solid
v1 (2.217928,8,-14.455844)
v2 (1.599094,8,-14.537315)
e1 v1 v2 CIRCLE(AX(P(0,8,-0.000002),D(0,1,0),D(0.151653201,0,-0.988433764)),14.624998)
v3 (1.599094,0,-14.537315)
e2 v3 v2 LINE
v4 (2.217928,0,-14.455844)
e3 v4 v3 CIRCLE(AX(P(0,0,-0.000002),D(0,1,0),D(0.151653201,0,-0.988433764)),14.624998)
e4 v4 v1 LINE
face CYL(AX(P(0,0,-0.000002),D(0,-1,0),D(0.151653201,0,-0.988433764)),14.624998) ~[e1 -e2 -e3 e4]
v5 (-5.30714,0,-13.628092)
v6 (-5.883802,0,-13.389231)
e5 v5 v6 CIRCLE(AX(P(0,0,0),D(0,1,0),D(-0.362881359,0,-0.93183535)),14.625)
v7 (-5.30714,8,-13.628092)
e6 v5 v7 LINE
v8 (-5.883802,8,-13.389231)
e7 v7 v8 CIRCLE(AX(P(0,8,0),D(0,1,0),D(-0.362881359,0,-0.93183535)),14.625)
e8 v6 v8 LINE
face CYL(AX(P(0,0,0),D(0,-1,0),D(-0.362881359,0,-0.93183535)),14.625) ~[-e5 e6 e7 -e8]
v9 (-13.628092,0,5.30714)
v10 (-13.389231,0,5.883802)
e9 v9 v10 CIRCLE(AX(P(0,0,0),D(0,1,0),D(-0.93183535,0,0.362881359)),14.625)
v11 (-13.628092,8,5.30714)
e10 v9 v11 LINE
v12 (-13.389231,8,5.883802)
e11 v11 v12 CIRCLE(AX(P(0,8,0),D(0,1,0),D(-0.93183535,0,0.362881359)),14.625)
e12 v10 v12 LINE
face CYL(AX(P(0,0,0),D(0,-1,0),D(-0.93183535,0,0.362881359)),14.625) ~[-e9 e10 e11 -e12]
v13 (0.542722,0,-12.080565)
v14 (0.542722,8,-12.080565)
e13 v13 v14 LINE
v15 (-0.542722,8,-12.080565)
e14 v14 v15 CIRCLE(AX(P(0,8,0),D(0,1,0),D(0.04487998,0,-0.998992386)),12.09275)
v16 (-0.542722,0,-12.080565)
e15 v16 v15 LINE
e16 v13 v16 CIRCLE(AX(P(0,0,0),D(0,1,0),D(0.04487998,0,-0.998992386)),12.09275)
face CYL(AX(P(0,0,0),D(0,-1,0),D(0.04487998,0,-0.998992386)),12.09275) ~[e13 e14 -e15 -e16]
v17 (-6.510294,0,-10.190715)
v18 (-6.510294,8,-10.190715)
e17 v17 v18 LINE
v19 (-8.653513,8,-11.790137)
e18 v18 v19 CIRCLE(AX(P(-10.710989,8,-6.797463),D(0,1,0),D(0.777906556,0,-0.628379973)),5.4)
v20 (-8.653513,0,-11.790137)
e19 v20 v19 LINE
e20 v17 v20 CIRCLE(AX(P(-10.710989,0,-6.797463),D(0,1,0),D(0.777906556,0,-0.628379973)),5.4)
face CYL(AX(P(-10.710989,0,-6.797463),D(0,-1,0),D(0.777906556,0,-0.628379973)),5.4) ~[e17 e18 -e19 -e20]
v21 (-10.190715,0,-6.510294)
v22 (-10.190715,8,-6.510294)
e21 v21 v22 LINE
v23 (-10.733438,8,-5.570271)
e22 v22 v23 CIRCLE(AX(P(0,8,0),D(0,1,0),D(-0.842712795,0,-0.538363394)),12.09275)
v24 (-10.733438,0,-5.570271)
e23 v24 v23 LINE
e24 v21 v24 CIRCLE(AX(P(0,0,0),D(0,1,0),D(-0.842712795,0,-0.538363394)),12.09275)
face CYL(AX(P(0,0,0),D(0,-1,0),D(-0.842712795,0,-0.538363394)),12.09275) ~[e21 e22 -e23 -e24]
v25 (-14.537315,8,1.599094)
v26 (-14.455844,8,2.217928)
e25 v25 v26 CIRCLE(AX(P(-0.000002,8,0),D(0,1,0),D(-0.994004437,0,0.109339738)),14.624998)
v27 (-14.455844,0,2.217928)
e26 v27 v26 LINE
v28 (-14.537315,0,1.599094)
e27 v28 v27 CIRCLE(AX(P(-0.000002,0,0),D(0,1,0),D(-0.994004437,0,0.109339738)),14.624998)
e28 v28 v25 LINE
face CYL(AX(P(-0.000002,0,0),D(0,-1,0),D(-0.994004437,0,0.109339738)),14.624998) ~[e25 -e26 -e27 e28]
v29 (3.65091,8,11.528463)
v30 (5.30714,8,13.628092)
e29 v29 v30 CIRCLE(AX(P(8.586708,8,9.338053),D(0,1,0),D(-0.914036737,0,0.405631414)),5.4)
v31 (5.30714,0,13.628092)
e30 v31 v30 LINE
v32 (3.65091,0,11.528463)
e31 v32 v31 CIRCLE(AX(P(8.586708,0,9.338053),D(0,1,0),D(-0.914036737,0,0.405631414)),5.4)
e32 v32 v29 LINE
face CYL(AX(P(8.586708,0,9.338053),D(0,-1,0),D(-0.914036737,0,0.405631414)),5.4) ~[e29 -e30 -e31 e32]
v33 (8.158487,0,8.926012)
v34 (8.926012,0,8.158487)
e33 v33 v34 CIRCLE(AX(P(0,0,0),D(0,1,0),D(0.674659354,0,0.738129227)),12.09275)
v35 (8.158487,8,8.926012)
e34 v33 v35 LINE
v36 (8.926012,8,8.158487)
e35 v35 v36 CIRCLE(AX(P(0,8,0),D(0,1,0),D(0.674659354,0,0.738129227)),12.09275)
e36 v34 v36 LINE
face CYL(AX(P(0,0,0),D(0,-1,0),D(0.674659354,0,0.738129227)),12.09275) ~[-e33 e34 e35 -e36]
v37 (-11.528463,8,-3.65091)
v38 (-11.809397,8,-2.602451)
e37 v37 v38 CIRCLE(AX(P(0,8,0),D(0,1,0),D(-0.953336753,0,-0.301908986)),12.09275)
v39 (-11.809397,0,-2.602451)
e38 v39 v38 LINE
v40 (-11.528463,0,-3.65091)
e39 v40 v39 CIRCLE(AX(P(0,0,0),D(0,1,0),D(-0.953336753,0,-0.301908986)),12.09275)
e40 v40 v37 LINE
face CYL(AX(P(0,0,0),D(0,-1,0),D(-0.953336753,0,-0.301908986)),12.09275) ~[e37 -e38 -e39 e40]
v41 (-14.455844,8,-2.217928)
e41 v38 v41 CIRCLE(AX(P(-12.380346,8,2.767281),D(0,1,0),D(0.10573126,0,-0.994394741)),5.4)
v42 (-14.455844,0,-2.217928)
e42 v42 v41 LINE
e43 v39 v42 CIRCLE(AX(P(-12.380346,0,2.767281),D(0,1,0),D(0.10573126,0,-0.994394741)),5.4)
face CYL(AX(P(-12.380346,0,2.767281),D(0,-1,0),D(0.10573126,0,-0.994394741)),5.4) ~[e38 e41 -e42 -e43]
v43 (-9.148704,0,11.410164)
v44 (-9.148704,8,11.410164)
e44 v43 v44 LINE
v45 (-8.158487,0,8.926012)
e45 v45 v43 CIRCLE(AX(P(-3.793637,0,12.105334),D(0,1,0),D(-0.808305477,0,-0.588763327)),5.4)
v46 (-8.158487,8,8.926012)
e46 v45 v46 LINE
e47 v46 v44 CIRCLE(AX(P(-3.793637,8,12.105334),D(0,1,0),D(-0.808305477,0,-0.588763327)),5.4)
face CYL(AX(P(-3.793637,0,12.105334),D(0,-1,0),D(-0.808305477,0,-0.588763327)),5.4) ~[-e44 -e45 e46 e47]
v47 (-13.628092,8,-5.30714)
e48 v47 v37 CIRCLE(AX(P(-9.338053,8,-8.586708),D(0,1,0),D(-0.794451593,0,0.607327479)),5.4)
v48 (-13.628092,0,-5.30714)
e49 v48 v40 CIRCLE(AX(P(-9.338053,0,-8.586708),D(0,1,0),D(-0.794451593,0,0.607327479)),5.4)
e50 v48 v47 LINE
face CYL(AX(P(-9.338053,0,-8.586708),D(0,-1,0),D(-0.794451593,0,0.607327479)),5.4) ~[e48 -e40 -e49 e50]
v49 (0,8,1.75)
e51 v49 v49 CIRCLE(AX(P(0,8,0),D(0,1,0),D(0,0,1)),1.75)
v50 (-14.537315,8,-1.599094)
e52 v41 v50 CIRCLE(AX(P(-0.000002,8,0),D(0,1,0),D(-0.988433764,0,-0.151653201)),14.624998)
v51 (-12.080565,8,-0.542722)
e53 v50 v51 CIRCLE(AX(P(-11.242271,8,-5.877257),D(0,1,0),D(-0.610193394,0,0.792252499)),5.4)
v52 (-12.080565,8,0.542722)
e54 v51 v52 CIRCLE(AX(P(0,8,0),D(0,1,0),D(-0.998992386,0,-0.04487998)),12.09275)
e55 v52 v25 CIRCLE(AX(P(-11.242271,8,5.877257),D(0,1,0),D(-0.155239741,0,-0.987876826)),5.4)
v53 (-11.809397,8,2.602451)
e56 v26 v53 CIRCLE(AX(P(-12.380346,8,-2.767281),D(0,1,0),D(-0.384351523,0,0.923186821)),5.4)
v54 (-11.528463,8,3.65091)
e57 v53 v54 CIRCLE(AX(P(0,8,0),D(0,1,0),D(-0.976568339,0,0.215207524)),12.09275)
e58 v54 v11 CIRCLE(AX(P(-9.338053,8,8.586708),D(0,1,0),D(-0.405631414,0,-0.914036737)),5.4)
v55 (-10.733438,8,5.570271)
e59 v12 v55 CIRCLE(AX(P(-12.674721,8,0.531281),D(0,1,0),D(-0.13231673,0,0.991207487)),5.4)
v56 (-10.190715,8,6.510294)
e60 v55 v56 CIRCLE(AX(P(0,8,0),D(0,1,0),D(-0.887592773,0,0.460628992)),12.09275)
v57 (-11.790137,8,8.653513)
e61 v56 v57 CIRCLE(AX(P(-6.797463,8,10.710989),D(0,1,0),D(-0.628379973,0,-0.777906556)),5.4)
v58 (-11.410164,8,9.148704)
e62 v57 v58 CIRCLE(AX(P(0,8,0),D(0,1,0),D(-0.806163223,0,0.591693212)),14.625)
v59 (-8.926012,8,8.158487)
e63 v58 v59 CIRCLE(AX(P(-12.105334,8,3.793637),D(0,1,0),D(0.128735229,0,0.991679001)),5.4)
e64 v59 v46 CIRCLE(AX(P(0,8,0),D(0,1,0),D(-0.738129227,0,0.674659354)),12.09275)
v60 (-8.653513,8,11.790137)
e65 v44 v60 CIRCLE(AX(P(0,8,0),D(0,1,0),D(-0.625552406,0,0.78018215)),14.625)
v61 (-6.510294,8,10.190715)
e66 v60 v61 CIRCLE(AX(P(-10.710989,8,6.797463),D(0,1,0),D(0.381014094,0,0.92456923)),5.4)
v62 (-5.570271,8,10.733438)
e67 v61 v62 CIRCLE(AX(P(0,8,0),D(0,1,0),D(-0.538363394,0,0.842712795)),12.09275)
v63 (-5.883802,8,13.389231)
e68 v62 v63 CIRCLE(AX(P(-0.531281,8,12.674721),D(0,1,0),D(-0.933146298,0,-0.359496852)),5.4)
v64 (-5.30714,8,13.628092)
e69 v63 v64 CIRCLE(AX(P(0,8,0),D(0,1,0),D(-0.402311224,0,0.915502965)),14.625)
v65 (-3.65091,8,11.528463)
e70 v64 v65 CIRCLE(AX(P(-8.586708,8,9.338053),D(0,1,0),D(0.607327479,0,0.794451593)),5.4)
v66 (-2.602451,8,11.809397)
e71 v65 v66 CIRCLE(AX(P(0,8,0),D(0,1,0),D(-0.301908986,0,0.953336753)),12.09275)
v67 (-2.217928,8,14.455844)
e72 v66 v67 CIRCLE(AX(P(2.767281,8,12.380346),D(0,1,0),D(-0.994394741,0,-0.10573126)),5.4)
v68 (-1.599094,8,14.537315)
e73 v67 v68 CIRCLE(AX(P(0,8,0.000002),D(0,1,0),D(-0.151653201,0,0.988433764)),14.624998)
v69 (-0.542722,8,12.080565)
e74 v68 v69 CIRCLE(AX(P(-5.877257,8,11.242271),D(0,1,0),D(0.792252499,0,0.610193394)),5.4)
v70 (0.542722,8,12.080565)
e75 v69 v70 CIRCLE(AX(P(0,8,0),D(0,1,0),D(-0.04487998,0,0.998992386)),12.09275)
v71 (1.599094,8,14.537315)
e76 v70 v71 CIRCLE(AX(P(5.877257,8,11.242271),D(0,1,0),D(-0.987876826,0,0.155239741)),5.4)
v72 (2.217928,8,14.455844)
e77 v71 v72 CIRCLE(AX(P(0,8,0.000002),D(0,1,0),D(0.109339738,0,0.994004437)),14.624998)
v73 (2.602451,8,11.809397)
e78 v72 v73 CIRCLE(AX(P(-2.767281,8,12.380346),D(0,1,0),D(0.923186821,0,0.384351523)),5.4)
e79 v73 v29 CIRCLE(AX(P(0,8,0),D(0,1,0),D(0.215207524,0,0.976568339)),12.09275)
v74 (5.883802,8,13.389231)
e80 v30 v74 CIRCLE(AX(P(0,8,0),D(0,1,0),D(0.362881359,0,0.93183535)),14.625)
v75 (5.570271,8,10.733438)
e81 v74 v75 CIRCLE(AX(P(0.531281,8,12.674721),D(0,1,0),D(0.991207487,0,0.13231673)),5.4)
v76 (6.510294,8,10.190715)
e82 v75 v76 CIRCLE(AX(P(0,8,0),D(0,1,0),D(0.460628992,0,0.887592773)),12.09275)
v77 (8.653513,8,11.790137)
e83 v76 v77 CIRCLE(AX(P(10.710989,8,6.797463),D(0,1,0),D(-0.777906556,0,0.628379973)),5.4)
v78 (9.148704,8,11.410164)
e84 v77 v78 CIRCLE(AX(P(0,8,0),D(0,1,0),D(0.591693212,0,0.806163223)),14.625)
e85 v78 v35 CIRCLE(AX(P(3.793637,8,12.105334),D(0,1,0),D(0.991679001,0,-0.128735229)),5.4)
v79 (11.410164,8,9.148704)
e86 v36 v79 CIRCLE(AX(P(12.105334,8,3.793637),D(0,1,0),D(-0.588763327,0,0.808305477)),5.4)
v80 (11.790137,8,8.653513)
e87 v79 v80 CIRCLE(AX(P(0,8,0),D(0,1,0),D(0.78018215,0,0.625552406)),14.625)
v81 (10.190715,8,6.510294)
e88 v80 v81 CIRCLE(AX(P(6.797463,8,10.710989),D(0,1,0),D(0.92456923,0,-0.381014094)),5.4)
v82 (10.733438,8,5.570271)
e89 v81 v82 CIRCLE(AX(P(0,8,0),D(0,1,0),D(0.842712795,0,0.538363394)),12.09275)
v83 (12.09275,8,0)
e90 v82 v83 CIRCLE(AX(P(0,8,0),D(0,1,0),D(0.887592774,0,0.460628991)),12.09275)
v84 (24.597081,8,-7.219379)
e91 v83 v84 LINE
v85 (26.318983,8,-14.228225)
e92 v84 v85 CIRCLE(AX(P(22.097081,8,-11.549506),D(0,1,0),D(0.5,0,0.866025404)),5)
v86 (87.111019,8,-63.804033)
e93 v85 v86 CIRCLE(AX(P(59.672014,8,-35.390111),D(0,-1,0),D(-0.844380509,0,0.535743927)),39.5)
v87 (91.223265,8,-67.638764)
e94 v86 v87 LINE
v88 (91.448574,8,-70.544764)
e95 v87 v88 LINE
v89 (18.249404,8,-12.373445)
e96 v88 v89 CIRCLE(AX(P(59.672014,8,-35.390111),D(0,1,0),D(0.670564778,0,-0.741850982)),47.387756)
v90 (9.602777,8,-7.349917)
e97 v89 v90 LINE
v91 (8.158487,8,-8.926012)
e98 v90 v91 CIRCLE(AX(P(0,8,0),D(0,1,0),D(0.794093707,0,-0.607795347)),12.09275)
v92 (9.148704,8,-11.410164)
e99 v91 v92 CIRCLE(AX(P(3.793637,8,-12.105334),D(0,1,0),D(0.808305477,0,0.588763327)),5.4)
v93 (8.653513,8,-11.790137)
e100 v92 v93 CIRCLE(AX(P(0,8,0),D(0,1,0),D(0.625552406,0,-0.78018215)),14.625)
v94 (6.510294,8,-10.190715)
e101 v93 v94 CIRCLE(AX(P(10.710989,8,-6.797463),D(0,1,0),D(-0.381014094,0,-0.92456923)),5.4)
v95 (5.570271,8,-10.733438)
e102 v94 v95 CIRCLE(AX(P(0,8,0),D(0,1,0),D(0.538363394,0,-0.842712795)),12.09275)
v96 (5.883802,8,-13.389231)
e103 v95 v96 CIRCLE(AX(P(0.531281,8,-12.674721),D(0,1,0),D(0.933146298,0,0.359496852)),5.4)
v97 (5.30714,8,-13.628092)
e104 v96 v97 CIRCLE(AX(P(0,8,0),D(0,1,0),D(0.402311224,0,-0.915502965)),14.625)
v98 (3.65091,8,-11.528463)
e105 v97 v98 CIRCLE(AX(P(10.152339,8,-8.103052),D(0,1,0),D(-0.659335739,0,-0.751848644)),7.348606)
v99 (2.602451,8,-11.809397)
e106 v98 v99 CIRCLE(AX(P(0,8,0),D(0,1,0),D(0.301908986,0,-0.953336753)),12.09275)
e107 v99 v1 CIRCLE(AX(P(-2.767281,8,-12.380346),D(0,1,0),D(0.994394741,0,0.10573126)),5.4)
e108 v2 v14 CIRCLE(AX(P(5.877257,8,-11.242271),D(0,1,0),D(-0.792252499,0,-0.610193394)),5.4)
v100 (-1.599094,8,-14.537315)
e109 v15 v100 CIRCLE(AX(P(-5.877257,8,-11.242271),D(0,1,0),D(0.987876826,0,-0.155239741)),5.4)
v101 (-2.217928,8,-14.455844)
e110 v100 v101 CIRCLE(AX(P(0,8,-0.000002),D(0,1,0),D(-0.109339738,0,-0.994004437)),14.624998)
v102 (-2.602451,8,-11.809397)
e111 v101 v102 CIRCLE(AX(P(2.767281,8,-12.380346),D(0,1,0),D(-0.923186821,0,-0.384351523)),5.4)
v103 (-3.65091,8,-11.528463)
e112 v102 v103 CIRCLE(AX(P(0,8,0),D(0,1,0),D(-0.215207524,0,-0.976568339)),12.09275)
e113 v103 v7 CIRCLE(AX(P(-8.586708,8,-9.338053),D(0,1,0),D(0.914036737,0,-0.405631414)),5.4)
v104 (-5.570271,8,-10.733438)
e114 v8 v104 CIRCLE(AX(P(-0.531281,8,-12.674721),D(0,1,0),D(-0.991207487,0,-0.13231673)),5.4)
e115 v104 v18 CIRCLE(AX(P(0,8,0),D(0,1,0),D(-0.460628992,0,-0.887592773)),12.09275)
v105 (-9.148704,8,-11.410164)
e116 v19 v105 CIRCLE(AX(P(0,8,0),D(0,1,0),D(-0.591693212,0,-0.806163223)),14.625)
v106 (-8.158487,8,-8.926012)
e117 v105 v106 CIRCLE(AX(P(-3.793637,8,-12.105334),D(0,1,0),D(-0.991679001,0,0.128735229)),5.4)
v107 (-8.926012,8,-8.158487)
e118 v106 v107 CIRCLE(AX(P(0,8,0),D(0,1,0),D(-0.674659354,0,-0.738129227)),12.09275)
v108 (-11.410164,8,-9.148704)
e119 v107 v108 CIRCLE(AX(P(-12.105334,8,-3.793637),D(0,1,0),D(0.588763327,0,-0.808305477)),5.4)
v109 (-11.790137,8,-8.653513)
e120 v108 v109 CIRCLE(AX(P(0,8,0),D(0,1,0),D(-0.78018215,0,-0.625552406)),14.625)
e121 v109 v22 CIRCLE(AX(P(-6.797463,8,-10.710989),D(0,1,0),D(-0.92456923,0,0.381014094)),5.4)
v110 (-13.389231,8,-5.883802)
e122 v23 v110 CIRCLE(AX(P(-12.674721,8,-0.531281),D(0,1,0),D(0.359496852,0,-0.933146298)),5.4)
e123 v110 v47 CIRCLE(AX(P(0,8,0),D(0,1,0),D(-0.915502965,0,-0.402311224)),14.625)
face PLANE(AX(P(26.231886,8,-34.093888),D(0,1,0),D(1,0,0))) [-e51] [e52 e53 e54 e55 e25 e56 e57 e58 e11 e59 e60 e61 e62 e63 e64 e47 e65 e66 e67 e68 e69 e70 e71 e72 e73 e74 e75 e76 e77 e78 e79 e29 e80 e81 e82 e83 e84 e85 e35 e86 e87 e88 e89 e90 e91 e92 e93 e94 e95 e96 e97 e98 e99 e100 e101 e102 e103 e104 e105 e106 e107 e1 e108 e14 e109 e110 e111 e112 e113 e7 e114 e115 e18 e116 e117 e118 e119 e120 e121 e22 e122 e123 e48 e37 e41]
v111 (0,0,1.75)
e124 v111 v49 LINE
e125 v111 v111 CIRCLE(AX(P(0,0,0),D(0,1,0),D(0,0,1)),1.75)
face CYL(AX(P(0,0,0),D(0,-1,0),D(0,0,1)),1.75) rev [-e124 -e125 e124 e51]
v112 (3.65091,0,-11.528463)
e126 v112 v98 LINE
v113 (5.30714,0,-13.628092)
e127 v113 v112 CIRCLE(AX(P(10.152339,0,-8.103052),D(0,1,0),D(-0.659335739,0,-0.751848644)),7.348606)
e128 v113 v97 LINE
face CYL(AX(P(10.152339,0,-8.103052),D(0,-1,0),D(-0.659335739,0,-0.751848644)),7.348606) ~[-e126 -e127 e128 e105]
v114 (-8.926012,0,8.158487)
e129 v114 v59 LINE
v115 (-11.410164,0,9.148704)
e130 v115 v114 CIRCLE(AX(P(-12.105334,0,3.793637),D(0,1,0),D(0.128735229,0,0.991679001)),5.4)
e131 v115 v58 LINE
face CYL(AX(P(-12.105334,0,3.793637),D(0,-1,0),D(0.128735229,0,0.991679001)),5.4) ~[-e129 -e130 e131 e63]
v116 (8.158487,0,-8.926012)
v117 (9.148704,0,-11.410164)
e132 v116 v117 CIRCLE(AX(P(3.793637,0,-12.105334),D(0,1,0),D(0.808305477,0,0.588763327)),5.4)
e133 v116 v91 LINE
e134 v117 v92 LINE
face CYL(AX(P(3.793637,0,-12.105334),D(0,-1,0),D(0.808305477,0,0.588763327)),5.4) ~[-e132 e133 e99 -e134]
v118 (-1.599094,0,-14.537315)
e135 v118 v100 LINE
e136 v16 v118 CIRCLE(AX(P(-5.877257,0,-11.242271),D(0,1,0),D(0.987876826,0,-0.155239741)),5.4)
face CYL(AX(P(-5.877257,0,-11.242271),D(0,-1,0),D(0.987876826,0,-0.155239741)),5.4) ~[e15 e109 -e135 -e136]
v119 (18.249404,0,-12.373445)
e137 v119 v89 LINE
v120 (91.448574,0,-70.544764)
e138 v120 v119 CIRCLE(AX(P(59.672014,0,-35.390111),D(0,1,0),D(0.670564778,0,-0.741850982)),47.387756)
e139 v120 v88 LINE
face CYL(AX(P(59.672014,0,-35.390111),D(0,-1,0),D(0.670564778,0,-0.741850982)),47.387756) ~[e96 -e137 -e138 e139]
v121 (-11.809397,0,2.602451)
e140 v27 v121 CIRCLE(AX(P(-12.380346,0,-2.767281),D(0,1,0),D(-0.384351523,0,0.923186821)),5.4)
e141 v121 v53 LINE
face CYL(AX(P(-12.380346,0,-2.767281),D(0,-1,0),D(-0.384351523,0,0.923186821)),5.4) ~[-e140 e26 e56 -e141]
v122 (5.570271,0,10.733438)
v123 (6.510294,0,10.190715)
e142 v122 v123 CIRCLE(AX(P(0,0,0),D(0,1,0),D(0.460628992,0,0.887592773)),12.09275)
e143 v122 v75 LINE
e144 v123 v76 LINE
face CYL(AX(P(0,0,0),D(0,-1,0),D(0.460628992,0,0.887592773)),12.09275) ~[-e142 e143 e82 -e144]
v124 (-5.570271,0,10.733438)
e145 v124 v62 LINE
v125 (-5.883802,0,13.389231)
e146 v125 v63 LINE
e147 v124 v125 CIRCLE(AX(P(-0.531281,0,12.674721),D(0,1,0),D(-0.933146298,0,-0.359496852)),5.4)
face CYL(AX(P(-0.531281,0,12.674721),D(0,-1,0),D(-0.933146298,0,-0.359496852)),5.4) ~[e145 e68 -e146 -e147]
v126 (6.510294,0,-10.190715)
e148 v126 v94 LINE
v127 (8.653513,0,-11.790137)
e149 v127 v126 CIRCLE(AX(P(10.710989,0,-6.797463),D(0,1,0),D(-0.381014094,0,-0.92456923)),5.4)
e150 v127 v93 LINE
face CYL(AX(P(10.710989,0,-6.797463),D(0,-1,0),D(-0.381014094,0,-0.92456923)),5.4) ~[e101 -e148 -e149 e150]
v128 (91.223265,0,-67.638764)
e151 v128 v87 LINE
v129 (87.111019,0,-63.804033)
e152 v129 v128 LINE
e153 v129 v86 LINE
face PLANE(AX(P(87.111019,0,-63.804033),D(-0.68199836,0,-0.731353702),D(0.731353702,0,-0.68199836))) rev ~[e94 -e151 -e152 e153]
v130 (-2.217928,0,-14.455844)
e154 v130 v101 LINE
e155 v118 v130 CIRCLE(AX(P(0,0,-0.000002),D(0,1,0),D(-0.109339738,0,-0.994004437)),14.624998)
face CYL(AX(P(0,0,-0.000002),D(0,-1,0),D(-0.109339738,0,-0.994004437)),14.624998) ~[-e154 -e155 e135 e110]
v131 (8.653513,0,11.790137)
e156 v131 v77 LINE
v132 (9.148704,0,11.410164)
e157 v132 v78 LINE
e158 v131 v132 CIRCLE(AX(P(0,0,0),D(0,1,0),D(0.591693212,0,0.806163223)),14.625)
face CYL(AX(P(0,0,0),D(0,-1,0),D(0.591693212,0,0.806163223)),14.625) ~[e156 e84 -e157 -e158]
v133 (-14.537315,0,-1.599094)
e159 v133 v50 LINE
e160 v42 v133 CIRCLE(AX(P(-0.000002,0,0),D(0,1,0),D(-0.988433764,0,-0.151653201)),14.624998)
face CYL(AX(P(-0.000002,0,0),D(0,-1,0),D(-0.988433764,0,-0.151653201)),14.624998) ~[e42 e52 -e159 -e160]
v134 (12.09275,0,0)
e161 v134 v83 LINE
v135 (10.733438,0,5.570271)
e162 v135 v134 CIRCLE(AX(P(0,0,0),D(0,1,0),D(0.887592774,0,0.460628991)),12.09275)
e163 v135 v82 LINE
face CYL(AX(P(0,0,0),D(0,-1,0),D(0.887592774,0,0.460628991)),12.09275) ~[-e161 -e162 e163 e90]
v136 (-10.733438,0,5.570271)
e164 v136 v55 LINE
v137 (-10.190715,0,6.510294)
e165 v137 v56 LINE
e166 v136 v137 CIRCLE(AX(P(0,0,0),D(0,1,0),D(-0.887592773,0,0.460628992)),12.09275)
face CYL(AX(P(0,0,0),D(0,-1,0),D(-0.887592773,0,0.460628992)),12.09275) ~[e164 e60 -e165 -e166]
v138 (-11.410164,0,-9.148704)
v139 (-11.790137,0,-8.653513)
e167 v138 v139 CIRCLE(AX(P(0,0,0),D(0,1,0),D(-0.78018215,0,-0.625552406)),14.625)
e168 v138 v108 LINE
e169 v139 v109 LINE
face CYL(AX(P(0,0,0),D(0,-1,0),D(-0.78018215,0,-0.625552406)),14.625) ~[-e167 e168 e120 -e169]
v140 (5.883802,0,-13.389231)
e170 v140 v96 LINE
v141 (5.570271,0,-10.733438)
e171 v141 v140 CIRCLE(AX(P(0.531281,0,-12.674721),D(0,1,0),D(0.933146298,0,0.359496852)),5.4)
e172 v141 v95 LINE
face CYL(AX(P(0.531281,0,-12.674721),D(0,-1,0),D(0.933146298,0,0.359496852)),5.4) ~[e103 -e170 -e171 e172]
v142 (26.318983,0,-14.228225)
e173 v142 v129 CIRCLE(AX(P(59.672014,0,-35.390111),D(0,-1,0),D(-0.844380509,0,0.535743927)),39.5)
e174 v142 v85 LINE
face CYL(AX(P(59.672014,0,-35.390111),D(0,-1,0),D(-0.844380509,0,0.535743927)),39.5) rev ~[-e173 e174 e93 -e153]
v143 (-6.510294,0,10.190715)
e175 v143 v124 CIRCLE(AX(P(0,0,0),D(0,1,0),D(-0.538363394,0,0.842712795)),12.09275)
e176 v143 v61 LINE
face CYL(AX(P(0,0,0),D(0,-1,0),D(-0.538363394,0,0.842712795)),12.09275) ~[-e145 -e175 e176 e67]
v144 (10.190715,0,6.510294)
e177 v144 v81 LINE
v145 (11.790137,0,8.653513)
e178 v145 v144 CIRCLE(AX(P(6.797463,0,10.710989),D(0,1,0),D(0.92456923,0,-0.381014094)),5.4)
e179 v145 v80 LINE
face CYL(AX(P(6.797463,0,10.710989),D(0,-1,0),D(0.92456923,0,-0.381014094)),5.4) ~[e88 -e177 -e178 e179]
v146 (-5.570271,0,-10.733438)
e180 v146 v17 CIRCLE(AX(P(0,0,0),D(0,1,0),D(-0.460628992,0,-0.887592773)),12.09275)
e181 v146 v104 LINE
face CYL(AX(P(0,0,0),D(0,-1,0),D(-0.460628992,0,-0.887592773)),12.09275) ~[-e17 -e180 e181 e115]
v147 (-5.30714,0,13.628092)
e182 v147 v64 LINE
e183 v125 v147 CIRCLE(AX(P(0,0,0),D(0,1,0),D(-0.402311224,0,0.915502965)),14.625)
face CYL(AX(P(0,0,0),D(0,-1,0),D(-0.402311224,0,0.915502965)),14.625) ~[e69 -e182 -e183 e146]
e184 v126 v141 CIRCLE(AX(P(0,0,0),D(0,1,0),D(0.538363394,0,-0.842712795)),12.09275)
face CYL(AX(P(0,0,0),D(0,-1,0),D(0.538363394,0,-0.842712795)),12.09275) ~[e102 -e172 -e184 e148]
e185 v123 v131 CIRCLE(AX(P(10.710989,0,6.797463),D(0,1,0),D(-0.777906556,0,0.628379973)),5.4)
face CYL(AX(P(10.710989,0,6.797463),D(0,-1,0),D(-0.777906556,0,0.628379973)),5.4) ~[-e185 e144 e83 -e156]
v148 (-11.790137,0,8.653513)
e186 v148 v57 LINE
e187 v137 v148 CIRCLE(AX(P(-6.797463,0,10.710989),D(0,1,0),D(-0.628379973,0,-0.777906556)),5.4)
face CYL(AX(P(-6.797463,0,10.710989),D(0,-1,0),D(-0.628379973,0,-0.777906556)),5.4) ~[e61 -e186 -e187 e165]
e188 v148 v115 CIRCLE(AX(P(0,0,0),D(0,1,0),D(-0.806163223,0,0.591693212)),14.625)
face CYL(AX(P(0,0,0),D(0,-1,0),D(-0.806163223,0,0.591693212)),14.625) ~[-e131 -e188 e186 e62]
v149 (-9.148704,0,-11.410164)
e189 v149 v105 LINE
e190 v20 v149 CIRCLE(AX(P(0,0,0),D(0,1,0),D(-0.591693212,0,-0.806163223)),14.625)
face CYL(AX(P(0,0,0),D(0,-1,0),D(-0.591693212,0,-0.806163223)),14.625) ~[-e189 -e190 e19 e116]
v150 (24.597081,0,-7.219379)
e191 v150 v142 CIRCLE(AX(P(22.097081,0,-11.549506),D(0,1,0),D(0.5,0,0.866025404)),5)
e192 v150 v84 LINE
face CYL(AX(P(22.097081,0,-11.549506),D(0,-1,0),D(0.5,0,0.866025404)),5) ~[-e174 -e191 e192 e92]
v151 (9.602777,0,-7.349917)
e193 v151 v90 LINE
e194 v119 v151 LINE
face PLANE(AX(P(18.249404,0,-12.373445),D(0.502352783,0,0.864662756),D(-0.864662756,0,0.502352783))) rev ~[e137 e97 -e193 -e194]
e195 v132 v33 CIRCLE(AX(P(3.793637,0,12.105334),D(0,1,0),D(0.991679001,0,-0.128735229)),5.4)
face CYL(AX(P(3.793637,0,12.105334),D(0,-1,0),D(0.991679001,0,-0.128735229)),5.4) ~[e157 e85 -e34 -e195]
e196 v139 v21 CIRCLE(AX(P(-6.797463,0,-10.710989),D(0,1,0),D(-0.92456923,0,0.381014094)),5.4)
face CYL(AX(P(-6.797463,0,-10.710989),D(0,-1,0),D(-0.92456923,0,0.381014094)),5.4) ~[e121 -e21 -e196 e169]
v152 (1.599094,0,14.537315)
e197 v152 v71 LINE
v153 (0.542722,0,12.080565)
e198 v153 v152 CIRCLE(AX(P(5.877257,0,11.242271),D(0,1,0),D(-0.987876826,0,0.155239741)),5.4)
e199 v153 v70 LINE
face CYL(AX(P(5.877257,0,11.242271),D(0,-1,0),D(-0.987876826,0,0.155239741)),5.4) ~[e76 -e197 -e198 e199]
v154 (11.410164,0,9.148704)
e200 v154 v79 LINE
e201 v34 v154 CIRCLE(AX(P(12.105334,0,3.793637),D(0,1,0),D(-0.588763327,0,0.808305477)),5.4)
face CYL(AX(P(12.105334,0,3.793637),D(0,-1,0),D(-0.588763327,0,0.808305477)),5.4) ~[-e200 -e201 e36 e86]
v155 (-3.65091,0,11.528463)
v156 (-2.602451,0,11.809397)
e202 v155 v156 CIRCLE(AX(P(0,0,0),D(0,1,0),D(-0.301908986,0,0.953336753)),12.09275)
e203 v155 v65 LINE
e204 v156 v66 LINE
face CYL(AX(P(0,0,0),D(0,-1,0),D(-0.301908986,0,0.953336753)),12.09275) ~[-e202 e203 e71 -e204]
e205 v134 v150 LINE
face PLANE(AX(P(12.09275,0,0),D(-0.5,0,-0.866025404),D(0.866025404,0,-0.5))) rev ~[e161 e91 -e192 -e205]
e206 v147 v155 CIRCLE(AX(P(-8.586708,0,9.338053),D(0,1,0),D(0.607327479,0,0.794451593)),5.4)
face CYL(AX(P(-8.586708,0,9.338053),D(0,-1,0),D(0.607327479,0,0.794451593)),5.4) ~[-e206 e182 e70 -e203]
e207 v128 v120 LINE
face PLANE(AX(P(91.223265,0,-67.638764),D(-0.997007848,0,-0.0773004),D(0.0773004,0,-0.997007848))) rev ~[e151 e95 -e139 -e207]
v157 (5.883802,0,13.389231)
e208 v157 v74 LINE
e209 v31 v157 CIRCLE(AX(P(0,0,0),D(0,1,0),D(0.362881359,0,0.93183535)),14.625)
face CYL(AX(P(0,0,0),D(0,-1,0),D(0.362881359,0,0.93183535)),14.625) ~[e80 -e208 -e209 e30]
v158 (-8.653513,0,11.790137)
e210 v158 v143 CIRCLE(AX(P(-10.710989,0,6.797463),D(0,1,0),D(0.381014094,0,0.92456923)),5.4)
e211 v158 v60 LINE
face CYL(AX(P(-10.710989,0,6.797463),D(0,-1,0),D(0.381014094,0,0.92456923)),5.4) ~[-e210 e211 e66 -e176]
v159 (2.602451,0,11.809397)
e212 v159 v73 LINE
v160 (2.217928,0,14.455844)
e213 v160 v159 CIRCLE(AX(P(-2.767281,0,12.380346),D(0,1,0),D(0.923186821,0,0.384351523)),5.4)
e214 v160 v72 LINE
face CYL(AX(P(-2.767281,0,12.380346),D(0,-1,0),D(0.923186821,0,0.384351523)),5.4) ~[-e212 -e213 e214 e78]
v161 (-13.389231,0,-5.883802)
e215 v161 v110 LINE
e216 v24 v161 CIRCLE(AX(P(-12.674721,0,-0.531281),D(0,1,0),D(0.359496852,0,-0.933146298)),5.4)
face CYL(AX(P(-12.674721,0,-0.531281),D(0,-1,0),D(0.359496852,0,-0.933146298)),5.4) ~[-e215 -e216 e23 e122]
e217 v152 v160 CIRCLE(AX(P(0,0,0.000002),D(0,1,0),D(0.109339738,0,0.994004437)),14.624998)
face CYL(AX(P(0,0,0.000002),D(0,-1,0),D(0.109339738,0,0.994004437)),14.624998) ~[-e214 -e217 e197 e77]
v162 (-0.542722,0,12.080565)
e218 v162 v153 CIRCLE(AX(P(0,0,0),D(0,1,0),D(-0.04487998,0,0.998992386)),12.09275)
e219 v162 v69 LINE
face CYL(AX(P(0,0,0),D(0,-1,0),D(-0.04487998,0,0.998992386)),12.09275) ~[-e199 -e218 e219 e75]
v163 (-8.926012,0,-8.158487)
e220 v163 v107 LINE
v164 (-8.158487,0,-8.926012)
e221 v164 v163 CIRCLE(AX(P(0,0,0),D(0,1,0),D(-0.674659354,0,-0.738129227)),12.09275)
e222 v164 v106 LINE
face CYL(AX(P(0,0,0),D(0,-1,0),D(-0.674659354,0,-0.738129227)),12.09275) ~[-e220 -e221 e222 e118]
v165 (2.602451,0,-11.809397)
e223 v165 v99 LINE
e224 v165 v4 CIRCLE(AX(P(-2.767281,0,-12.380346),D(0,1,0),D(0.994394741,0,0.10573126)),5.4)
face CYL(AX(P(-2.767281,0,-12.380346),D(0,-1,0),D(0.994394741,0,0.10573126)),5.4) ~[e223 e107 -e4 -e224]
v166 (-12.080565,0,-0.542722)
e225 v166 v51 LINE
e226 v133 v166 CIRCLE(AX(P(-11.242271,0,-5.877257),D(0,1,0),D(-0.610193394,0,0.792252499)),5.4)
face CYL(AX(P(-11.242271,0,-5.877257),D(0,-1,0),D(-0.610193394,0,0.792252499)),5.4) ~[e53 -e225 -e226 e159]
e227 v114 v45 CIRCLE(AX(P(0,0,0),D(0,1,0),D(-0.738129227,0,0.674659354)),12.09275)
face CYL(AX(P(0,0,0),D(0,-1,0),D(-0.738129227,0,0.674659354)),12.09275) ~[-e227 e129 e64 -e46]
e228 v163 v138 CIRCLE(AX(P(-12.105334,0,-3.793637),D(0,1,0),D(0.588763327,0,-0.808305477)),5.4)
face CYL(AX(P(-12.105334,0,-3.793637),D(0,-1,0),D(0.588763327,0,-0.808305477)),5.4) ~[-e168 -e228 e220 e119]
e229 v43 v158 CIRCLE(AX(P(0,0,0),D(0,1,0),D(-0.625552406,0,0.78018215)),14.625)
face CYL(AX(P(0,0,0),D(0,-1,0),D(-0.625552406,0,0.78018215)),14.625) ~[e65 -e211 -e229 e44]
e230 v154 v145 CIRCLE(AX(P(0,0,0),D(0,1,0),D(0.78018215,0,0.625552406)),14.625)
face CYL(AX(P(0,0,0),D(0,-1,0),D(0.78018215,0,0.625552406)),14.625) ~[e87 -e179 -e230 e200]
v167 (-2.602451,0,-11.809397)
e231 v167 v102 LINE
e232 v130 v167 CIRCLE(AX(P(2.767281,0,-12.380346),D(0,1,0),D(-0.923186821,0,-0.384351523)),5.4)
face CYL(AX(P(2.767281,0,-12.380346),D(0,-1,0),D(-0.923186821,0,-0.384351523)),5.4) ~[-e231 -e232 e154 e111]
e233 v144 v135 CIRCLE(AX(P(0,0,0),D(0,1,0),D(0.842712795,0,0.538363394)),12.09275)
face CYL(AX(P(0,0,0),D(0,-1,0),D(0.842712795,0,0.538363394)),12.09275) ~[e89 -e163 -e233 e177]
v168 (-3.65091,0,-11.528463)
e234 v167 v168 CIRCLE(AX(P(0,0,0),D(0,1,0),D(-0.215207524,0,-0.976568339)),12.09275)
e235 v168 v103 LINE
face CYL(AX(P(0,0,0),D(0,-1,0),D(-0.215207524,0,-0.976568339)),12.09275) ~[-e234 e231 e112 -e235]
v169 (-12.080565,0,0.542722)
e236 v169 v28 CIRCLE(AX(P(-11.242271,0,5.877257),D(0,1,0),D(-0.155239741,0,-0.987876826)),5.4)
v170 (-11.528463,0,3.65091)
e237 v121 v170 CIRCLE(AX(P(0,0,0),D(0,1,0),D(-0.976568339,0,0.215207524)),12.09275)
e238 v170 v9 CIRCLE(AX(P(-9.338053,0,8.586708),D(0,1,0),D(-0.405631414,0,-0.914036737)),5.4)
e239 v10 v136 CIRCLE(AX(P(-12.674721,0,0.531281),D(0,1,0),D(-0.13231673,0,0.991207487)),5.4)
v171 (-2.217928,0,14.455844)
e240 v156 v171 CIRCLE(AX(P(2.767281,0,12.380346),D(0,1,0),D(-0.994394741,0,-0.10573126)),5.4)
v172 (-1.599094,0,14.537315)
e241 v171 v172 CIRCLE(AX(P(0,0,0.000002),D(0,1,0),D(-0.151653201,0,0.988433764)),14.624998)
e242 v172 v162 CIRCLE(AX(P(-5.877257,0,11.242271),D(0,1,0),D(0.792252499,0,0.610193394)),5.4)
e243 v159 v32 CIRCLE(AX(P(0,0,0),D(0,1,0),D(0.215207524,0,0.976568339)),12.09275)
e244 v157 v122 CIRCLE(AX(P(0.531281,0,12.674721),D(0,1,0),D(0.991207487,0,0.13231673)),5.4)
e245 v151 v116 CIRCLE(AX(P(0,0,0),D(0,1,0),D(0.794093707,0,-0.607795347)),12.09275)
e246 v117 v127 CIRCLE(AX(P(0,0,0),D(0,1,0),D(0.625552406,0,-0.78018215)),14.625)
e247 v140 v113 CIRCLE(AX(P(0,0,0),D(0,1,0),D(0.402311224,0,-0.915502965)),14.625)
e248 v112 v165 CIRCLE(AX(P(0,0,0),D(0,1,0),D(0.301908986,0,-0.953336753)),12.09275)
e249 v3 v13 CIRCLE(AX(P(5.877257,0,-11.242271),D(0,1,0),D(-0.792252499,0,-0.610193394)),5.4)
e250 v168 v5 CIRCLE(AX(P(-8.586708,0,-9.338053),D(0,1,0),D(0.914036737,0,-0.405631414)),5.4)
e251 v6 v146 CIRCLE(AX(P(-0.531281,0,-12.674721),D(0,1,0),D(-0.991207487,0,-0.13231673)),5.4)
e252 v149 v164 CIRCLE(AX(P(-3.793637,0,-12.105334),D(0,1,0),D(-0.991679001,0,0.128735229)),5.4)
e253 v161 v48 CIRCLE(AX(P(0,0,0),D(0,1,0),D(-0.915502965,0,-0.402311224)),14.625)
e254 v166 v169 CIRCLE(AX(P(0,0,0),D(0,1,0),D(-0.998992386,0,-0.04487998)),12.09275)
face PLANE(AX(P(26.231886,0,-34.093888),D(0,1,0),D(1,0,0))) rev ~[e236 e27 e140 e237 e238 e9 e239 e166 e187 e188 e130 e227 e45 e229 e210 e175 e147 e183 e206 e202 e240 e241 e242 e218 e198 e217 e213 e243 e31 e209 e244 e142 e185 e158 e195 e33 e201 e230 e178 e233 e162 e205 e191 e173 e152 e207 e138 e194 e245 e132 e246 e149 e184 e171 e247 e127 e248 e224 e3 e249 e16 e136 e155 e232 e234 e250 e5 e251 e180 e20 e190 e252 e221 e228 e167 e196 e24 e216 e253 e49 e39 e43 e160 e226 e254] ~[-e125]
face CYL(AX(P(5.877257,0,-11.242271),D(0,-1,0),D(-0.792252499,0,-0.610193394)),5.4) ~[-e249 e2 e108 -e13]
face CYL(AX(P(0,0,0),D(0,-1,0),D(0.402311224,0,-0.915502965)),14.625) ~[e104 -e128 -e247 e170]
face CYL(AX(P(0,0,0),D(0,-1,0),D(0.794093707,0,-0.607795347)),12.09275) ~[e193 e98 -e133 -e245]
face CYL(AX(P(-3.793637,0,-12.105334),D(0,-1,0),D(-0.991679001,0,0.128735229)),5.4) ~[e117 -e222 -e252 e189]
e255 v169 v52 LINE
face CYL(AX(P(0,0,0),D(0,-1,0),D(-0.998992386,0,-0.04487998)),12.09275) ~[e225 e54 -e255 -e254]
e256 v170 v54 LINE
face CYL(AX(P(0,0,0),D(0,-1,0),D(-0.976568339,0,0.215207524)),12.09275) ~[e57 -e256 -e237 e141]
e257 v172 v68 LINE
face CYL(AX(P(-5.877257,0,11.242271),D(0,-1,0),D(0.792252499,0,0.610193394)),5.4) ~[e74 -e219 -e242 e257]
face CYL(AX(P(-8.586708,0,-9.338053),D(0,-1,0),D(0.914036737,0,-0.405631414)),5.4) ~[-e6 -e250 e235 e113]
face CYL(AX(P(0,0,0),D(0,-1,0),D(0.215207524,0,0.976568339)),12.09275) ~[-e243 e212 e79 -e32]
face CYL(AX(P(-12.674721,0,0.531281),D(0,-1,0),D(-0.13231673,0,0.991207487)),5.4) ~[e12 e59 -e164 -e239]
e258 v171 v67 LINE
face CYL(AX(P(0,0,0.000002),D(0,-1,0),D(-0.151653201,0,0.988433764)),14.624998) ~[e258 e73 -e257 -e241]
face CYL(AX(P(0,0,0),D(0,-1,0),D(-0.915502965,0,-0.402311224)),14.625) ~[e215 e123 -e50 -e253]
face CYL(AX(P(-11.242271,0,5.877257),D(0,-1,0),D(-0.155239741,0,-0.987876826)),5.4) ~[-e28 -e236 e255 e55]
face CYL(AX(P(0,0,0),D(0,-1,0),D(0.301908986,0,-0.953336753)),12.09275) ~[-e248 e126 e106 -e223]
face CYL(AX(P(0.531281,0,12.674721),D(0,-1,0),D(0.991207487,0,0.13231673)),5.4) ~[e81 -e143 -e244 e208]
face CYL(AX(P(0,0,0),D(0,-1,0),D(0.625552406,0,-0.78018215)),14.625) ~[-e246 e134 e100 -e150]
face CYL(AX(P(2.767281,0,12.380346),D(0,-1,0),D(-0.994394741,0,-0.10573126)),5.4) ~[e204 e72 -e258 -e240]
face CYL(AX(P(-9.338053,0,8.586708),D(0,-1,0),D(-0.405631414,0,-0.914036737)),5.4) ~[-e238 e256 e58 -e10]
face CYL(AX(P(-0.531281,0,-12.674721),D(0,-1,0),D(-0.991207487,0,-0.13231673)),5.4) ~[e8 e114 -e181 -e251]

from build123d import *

# Parameters (mm, degrees)
CROQUIS1_R              = 1.75
SALIENTE_EXTRUIR1_DEPTH = 8


with BuildPart() as part:
    # Croquis1 → Saliente-Extruir1 (new body)
    with BuildSketch(Plane(origin=(0, 0, 0), x_dir=(1, 0, 0), z_dir=(0, 1, 0))):
        with BuildLine():
            ThreePointArc((26.318983455, 14.228225469), (34.708358258, 66.001642936), (87.111019212, 63.804032696))
            Line((87.111019212, 63.804032696), (91.223264764, 67.638763711))
            Line((91.223264764, 67.638763711), (91.448573923, 70.544764206))
            ThreePointArc((91.448573923, 70.544764206), (30.189185372, 72.489467715), (18.249404228, 12.373445028))
            Line((18.249404228, 12.373445028), (9.60277667, 7.349917196))
            ThreePointArc((9.60277667, 7.349917196), (8.915528014, 8.169942644), (8.158486898, 8.926012217))
            ThreePointArc((8.158486898, 8.926012217), (8.809805691, 10.105820521), (9.148703928, 11.410163953))
            ThreePointArc((9.148703928, 11.410163953), (8.903135899, 11.602792602), (8.65351323, 11.79013714))
            ThreePointArc((8.65351323, 11.79013714), (7.48132754, 11.125197659), (6.510293938, 10.190715157))
            ThreePointArc((6.510293938, 10.190715157), (6.046375, 10.472628702), (5.57027124, 10.733437515))
            ThreePointArc((5.57027124, 10.733437515), (5.894040025, 12.041618533), (5.883801663, 13.389230859))
            ThreePointArc((5.883801663, 13.389230859), (5.596745198, 13.511738163), (5.30713988, 13.62809199))
            ThreePointArc((5.30713988, 13.62809199), (4.382711316, 12.654251603), (3.650909885, 11.528463019))
            ThreePointArc((3.650909885, 11.528463019), (3.129834008, 11.680699536), (2.602450802, 11.809396783))
            ThreePointArc((2.602450802, 11.809396783), (2.576605271, 13.156800143), (2.217928037, 14.455843809))
            ThreePointArc((2.217928037, 14.455843809), (1.908945561, 14.499881098), (1.599093719, 14.537314892))
            ThreePointArc((1.599093719, 14.537314892), (0.916420874, 13.375367565), (0.542722358, 12.080565177))
            ThreePointArc((0.542722358, 12.080565177), (0, 12.09275), (-0.542722358, 12.080565177))
            ThreePointArc((-0.542722358, 12.080565177), (-0.916420874, 13.375367565), (-1.599093719, 14.537314892))
            ThreePointArc((-1.599093719, 14.537314892), (-1.908945561, 14.499881098), (-2.217928037, 14.455843809))
            ThreePointArc((-2.217928037, 14.455843809), (-2.576605271, 13.156800143), (-2.602450802, 11.809396783))
            ThreePointArc((-2.602450802, 11.809396783), (-3.129834008, 11.680699536), (-3.650909885, 11.528463019))
            ThreePointArc((-3.650909885, 11.528463019), (-4.346994451, 12.682425791), (-5.30713988, 13.62809199))
            ThreePointArc((-5.30713988, 13.62809199), (-5.596745198, 13.511738163), (-5.883801663, 13.389230859))
            ThreePointArc((-5.883801663, 13.389230859), (-5.894040025, 12.041618533), (-5.57027124, 10.733437515))
            ThreePointArc((-5.57027124, 10.733437515), (-6.046375, 10.472628702), (-6.510293938, 10.190715157))
            ThreePointArc((-6.510293938, 10.190715157), (-7.48132754, 11.125197659), (-8.65351323, 11.79013714))
            ThreePointArc((-8.65351323, 11.79013714), (-8.903135899, 11.602792602), (-9.148703928, 11.410163953))
            ThreePointArc((-9.148703928, 11.410163953), (-8.809805691, 10.105820521), (-8.158486898, 8.926012217))
            ThreePointArc((-8.158486898, 8.926012217), (-8.550865528, 8.550865528), (-8.926012217, 8.158486898))
            ThreePointArc((-8.926012217, 8.158486898), (-10.105820521, 8.809805691), (-11.410163953, 9.148703928))
            ThreePointArc((-11.410163953, 9.148703928), (-11.602792602, 8.903135899), (-11.79013714, 8.65351323))
            ThreePointArc((-11.79013714, 8.65351323), (-11.125197659, 7.48132754), (-10.190715157, 6.510293938))
            ThreePointArc((-10.190715157, 6.510293938), (-10.472628702, 6.046375), (-10.733437515, 5.57027124))
            ThreePointArc((-10.733437515, 5.57027124), (-12.041618533, 5.894040025), (-13.389230859, 5.883801663))
            ThreePointArc((-13.389230859, 5.883801663), (-13.511738163, 5.596745198), (-13.62809199, 5.30713988))
            ThreePointArc((-13.62809199, 5.30713988), (-12.682425791, 4.346994451), (-11.528463019, 3.650909885))
            ThreePointArc((-11.528463019, 3.650909885), (-11.680699536, 3.129834008), (-11.809396783, 2.602450802))
            ThreePointArc((-11.809396783, 2.602450802), (-13.156800143, 2.576605271), (-14.455843809, 2.217928037))
            ThreePointArc((-14.455843809, 2.217928037), (-14.499881098, 1.908945561), (-14.537314892, 1.599093719))
            ThreePointArc((-14.537314892, 1.599093719), (-13.375367565, 0.916420874), (-12.080565177, 0.542722358))
            ThreePointArc((-12.080565177, 0.542722358), (-12.09275, 0), (-12.080565177, -0.542722358))
            ThreePointArc((-12.080565177, -0.542722358), (-13.375367565, -0.916420874), (-14.537314892, -1.599093719))
            ThreePointArc((-14.537314892, -1.599093719), (-14.499881098, -1.908945561), (-14.455843809, -2.217928037))
            ThreePointArc((-14.455843809, -2.217928037), (-13.156800143, -2.576605271), (-11.809396783, -2.602450802))
            ThreePointArc((-11.809396783, -2.602450802), (-11.680699536, -3.129834008), (-11.528463019, -3.650909885))
            ThreePointArc((-11.528463019, -3.650909885), (-12.682425791, -4.346994451), (-13.62809199, -5.30713988))
            ThreePointArc((-13.62809199, -5.30713988), (-13.511738163, -5.596745198), (-13.389230859, -5.883801663))
            ThreePointArc((-13.389230859, -5.883801663), (-12.041618533, -5.894040025), (-10.733437515, -5.57027124))
            ThreePointArc((-10.733437515, -5.57027124), (-10.472628702, -6.046375), (-10.190715157, -6.510293938))
            ThreePointArc((-10.190715157, -6.510293938), (-11.125197659, -7.48132754), (-11.79013714, -8.65351323))
            ThreePointArc((-11.79013714, -8.65351323), (-11.602792602, -8.903135899), (-11.410163953, -9.148703928))
            ThreePointArc((-11.410163953, -9.148703928), (-10.105820521, -8.809805691), (-8.926012217, -8.158486898))
            ThreePointArc((-8.926012217, -8.158486898), (-8.550865528, -8.550865528), (-8.158486898, -8.926012217))
            ThreePointArc((-8.158486898, -8.926012217), (-8.809805691, -10.105820521), (-9.148703928, -11.410163953))
            ThreePointArc((-9.148703928, -11.410163953), (-8.903135899, -11.602792602), (-8.65351323, -11.79013714))
            ThreePointArc((-8.65351323, -11.79013714), (-7.48132754, -11.125197659), (-6.510293938, -10.190715157))
            ThreePointArc((-6.510293938, -10.190715157), (-6.046375, -10.472628702), (-5.57027124, -10.733437515))
            ThreePointArc((-5.57027124, -10.733437515), (-5.894040025, -12.041618533), (-5.883801663, -13.389230859))
            ThreePointArc((-5.883801663, -13.389230859), (-5.596745198, -13.511738163), (-5.30713988, -13.62809199))
            ThreePointArc((-5.30713988, -13.62809199), (-4.346994451, -12.682425791), (-3.650909885, -11.528463019))
            ThreePointArc((-3.650909885, -11.528463019), (-3.129834008, -11.680699536), (-2.602450802, -11.809396783))
            ThreePointArc((-2.602450802, -11.809396783), (-2.576605271, -13.156800143), (-2.217928037, -14.455843809))
            ThreePointArc((-2.217928037, -14.455843809), (-1.908945561, -14.499881098), (-1.599093719, -14.537314892))
            ThreePointArc((-1.599093719, -14.537314892), (-0.916420874, -13.375367565), (-0.542722358, -12.080565177))
            ThreePointArc((-0.542722358, -12.080565177), (0, -12.09275), (0.542722358, -12.080565177))
            ThreePointArc((0.542722358, -12.080565177), (0.916420874, -13.375367565), (1.599093719, -14.537314892))
            ThreePointArc((1.599093719, -14.537314892), (1.908945561, -14.499881098), (2.217928037, -14.455843809))
            ThreePointArc((2.217928037, -14.455843809), (2.576605271, -13.156800143), (2.602450802, -11.809396783))
            ThreePointArc((2.602450802, -11.809396783), (3.129834008, -11.680699536), (3.650909885, -11.528463019))
            ThreePointArc((3.650909885, -11.528463019), (4.346994451, -12.682425791), (5.30713988, -13.62809199))
            ThreePointArc((5.30713988, -13.62809199), (5.596745198, -13.511738163), (5.883801663, -13.389230859))
            ThreePointArc((5.883801663, -13.389230859), (5.894040025, -12.041618533), (5.57027124, -10.733437515))
            ThreePointArc((5.57027124, -10.733437515), (6.046375, -10.472628702), (6.510293938, -10.190715157))
            ThreePointArc((6.510293938, -10.190715157), (7.48132754, -11.125197659), (8.65351323, -11.79013714))
            ThreePointArc((8.65351323, -11.79013714), (8.903135899, -11.602792602), (9.148703928, -11.410163953))
            ThreePointArc((9.148703928, -11.410163953), (8.809805691, -10.105820521), (8.158486898, -8.926012217))
            ThreePointArc((8.158486898, -8.926012217), (8.550865528, -8.550865528), (8.926012217, -8.158486898))
            ThreePointArc((8.926012217, -8.158486898), (10.105820521, -8.809805691), (11.410163953, -9.148703928))
            ThreePointArc((11.410163953, -9.148703928), (11.602792602, -8.903135899), (11.79013714, -8.65351323))
            ThreePointArc((11.79013714, -8.65351323), (11.125197659, -7.48132754), (10.190715157, -6.510293938))
            ThreePointArc((10.190715157, -6.510293938), (10.472628702, -6.046375), (10.733437515, -5.57027124))
            ThreePointArc((10.733437515, -5.57027124), (11.748007896, -2.866864669), (12.09275, 0))
            Line((12.09275, 0), (24.597080908, 7.219378816))
            ThreePointArc((24.597080908, 7.219378816), (26.952693775, 10.356600271), (26.318983455, 14.228225469))
        make_face()
        with Locations(Location((0, 0, 0), (0, 0, 270))):
            Circle(CROQUIS1_R, mode=Mode.SUBTRACT)
    extrude(amount=SALIENTE_EXTRUIR1_DEPTH)


solid = part.part
